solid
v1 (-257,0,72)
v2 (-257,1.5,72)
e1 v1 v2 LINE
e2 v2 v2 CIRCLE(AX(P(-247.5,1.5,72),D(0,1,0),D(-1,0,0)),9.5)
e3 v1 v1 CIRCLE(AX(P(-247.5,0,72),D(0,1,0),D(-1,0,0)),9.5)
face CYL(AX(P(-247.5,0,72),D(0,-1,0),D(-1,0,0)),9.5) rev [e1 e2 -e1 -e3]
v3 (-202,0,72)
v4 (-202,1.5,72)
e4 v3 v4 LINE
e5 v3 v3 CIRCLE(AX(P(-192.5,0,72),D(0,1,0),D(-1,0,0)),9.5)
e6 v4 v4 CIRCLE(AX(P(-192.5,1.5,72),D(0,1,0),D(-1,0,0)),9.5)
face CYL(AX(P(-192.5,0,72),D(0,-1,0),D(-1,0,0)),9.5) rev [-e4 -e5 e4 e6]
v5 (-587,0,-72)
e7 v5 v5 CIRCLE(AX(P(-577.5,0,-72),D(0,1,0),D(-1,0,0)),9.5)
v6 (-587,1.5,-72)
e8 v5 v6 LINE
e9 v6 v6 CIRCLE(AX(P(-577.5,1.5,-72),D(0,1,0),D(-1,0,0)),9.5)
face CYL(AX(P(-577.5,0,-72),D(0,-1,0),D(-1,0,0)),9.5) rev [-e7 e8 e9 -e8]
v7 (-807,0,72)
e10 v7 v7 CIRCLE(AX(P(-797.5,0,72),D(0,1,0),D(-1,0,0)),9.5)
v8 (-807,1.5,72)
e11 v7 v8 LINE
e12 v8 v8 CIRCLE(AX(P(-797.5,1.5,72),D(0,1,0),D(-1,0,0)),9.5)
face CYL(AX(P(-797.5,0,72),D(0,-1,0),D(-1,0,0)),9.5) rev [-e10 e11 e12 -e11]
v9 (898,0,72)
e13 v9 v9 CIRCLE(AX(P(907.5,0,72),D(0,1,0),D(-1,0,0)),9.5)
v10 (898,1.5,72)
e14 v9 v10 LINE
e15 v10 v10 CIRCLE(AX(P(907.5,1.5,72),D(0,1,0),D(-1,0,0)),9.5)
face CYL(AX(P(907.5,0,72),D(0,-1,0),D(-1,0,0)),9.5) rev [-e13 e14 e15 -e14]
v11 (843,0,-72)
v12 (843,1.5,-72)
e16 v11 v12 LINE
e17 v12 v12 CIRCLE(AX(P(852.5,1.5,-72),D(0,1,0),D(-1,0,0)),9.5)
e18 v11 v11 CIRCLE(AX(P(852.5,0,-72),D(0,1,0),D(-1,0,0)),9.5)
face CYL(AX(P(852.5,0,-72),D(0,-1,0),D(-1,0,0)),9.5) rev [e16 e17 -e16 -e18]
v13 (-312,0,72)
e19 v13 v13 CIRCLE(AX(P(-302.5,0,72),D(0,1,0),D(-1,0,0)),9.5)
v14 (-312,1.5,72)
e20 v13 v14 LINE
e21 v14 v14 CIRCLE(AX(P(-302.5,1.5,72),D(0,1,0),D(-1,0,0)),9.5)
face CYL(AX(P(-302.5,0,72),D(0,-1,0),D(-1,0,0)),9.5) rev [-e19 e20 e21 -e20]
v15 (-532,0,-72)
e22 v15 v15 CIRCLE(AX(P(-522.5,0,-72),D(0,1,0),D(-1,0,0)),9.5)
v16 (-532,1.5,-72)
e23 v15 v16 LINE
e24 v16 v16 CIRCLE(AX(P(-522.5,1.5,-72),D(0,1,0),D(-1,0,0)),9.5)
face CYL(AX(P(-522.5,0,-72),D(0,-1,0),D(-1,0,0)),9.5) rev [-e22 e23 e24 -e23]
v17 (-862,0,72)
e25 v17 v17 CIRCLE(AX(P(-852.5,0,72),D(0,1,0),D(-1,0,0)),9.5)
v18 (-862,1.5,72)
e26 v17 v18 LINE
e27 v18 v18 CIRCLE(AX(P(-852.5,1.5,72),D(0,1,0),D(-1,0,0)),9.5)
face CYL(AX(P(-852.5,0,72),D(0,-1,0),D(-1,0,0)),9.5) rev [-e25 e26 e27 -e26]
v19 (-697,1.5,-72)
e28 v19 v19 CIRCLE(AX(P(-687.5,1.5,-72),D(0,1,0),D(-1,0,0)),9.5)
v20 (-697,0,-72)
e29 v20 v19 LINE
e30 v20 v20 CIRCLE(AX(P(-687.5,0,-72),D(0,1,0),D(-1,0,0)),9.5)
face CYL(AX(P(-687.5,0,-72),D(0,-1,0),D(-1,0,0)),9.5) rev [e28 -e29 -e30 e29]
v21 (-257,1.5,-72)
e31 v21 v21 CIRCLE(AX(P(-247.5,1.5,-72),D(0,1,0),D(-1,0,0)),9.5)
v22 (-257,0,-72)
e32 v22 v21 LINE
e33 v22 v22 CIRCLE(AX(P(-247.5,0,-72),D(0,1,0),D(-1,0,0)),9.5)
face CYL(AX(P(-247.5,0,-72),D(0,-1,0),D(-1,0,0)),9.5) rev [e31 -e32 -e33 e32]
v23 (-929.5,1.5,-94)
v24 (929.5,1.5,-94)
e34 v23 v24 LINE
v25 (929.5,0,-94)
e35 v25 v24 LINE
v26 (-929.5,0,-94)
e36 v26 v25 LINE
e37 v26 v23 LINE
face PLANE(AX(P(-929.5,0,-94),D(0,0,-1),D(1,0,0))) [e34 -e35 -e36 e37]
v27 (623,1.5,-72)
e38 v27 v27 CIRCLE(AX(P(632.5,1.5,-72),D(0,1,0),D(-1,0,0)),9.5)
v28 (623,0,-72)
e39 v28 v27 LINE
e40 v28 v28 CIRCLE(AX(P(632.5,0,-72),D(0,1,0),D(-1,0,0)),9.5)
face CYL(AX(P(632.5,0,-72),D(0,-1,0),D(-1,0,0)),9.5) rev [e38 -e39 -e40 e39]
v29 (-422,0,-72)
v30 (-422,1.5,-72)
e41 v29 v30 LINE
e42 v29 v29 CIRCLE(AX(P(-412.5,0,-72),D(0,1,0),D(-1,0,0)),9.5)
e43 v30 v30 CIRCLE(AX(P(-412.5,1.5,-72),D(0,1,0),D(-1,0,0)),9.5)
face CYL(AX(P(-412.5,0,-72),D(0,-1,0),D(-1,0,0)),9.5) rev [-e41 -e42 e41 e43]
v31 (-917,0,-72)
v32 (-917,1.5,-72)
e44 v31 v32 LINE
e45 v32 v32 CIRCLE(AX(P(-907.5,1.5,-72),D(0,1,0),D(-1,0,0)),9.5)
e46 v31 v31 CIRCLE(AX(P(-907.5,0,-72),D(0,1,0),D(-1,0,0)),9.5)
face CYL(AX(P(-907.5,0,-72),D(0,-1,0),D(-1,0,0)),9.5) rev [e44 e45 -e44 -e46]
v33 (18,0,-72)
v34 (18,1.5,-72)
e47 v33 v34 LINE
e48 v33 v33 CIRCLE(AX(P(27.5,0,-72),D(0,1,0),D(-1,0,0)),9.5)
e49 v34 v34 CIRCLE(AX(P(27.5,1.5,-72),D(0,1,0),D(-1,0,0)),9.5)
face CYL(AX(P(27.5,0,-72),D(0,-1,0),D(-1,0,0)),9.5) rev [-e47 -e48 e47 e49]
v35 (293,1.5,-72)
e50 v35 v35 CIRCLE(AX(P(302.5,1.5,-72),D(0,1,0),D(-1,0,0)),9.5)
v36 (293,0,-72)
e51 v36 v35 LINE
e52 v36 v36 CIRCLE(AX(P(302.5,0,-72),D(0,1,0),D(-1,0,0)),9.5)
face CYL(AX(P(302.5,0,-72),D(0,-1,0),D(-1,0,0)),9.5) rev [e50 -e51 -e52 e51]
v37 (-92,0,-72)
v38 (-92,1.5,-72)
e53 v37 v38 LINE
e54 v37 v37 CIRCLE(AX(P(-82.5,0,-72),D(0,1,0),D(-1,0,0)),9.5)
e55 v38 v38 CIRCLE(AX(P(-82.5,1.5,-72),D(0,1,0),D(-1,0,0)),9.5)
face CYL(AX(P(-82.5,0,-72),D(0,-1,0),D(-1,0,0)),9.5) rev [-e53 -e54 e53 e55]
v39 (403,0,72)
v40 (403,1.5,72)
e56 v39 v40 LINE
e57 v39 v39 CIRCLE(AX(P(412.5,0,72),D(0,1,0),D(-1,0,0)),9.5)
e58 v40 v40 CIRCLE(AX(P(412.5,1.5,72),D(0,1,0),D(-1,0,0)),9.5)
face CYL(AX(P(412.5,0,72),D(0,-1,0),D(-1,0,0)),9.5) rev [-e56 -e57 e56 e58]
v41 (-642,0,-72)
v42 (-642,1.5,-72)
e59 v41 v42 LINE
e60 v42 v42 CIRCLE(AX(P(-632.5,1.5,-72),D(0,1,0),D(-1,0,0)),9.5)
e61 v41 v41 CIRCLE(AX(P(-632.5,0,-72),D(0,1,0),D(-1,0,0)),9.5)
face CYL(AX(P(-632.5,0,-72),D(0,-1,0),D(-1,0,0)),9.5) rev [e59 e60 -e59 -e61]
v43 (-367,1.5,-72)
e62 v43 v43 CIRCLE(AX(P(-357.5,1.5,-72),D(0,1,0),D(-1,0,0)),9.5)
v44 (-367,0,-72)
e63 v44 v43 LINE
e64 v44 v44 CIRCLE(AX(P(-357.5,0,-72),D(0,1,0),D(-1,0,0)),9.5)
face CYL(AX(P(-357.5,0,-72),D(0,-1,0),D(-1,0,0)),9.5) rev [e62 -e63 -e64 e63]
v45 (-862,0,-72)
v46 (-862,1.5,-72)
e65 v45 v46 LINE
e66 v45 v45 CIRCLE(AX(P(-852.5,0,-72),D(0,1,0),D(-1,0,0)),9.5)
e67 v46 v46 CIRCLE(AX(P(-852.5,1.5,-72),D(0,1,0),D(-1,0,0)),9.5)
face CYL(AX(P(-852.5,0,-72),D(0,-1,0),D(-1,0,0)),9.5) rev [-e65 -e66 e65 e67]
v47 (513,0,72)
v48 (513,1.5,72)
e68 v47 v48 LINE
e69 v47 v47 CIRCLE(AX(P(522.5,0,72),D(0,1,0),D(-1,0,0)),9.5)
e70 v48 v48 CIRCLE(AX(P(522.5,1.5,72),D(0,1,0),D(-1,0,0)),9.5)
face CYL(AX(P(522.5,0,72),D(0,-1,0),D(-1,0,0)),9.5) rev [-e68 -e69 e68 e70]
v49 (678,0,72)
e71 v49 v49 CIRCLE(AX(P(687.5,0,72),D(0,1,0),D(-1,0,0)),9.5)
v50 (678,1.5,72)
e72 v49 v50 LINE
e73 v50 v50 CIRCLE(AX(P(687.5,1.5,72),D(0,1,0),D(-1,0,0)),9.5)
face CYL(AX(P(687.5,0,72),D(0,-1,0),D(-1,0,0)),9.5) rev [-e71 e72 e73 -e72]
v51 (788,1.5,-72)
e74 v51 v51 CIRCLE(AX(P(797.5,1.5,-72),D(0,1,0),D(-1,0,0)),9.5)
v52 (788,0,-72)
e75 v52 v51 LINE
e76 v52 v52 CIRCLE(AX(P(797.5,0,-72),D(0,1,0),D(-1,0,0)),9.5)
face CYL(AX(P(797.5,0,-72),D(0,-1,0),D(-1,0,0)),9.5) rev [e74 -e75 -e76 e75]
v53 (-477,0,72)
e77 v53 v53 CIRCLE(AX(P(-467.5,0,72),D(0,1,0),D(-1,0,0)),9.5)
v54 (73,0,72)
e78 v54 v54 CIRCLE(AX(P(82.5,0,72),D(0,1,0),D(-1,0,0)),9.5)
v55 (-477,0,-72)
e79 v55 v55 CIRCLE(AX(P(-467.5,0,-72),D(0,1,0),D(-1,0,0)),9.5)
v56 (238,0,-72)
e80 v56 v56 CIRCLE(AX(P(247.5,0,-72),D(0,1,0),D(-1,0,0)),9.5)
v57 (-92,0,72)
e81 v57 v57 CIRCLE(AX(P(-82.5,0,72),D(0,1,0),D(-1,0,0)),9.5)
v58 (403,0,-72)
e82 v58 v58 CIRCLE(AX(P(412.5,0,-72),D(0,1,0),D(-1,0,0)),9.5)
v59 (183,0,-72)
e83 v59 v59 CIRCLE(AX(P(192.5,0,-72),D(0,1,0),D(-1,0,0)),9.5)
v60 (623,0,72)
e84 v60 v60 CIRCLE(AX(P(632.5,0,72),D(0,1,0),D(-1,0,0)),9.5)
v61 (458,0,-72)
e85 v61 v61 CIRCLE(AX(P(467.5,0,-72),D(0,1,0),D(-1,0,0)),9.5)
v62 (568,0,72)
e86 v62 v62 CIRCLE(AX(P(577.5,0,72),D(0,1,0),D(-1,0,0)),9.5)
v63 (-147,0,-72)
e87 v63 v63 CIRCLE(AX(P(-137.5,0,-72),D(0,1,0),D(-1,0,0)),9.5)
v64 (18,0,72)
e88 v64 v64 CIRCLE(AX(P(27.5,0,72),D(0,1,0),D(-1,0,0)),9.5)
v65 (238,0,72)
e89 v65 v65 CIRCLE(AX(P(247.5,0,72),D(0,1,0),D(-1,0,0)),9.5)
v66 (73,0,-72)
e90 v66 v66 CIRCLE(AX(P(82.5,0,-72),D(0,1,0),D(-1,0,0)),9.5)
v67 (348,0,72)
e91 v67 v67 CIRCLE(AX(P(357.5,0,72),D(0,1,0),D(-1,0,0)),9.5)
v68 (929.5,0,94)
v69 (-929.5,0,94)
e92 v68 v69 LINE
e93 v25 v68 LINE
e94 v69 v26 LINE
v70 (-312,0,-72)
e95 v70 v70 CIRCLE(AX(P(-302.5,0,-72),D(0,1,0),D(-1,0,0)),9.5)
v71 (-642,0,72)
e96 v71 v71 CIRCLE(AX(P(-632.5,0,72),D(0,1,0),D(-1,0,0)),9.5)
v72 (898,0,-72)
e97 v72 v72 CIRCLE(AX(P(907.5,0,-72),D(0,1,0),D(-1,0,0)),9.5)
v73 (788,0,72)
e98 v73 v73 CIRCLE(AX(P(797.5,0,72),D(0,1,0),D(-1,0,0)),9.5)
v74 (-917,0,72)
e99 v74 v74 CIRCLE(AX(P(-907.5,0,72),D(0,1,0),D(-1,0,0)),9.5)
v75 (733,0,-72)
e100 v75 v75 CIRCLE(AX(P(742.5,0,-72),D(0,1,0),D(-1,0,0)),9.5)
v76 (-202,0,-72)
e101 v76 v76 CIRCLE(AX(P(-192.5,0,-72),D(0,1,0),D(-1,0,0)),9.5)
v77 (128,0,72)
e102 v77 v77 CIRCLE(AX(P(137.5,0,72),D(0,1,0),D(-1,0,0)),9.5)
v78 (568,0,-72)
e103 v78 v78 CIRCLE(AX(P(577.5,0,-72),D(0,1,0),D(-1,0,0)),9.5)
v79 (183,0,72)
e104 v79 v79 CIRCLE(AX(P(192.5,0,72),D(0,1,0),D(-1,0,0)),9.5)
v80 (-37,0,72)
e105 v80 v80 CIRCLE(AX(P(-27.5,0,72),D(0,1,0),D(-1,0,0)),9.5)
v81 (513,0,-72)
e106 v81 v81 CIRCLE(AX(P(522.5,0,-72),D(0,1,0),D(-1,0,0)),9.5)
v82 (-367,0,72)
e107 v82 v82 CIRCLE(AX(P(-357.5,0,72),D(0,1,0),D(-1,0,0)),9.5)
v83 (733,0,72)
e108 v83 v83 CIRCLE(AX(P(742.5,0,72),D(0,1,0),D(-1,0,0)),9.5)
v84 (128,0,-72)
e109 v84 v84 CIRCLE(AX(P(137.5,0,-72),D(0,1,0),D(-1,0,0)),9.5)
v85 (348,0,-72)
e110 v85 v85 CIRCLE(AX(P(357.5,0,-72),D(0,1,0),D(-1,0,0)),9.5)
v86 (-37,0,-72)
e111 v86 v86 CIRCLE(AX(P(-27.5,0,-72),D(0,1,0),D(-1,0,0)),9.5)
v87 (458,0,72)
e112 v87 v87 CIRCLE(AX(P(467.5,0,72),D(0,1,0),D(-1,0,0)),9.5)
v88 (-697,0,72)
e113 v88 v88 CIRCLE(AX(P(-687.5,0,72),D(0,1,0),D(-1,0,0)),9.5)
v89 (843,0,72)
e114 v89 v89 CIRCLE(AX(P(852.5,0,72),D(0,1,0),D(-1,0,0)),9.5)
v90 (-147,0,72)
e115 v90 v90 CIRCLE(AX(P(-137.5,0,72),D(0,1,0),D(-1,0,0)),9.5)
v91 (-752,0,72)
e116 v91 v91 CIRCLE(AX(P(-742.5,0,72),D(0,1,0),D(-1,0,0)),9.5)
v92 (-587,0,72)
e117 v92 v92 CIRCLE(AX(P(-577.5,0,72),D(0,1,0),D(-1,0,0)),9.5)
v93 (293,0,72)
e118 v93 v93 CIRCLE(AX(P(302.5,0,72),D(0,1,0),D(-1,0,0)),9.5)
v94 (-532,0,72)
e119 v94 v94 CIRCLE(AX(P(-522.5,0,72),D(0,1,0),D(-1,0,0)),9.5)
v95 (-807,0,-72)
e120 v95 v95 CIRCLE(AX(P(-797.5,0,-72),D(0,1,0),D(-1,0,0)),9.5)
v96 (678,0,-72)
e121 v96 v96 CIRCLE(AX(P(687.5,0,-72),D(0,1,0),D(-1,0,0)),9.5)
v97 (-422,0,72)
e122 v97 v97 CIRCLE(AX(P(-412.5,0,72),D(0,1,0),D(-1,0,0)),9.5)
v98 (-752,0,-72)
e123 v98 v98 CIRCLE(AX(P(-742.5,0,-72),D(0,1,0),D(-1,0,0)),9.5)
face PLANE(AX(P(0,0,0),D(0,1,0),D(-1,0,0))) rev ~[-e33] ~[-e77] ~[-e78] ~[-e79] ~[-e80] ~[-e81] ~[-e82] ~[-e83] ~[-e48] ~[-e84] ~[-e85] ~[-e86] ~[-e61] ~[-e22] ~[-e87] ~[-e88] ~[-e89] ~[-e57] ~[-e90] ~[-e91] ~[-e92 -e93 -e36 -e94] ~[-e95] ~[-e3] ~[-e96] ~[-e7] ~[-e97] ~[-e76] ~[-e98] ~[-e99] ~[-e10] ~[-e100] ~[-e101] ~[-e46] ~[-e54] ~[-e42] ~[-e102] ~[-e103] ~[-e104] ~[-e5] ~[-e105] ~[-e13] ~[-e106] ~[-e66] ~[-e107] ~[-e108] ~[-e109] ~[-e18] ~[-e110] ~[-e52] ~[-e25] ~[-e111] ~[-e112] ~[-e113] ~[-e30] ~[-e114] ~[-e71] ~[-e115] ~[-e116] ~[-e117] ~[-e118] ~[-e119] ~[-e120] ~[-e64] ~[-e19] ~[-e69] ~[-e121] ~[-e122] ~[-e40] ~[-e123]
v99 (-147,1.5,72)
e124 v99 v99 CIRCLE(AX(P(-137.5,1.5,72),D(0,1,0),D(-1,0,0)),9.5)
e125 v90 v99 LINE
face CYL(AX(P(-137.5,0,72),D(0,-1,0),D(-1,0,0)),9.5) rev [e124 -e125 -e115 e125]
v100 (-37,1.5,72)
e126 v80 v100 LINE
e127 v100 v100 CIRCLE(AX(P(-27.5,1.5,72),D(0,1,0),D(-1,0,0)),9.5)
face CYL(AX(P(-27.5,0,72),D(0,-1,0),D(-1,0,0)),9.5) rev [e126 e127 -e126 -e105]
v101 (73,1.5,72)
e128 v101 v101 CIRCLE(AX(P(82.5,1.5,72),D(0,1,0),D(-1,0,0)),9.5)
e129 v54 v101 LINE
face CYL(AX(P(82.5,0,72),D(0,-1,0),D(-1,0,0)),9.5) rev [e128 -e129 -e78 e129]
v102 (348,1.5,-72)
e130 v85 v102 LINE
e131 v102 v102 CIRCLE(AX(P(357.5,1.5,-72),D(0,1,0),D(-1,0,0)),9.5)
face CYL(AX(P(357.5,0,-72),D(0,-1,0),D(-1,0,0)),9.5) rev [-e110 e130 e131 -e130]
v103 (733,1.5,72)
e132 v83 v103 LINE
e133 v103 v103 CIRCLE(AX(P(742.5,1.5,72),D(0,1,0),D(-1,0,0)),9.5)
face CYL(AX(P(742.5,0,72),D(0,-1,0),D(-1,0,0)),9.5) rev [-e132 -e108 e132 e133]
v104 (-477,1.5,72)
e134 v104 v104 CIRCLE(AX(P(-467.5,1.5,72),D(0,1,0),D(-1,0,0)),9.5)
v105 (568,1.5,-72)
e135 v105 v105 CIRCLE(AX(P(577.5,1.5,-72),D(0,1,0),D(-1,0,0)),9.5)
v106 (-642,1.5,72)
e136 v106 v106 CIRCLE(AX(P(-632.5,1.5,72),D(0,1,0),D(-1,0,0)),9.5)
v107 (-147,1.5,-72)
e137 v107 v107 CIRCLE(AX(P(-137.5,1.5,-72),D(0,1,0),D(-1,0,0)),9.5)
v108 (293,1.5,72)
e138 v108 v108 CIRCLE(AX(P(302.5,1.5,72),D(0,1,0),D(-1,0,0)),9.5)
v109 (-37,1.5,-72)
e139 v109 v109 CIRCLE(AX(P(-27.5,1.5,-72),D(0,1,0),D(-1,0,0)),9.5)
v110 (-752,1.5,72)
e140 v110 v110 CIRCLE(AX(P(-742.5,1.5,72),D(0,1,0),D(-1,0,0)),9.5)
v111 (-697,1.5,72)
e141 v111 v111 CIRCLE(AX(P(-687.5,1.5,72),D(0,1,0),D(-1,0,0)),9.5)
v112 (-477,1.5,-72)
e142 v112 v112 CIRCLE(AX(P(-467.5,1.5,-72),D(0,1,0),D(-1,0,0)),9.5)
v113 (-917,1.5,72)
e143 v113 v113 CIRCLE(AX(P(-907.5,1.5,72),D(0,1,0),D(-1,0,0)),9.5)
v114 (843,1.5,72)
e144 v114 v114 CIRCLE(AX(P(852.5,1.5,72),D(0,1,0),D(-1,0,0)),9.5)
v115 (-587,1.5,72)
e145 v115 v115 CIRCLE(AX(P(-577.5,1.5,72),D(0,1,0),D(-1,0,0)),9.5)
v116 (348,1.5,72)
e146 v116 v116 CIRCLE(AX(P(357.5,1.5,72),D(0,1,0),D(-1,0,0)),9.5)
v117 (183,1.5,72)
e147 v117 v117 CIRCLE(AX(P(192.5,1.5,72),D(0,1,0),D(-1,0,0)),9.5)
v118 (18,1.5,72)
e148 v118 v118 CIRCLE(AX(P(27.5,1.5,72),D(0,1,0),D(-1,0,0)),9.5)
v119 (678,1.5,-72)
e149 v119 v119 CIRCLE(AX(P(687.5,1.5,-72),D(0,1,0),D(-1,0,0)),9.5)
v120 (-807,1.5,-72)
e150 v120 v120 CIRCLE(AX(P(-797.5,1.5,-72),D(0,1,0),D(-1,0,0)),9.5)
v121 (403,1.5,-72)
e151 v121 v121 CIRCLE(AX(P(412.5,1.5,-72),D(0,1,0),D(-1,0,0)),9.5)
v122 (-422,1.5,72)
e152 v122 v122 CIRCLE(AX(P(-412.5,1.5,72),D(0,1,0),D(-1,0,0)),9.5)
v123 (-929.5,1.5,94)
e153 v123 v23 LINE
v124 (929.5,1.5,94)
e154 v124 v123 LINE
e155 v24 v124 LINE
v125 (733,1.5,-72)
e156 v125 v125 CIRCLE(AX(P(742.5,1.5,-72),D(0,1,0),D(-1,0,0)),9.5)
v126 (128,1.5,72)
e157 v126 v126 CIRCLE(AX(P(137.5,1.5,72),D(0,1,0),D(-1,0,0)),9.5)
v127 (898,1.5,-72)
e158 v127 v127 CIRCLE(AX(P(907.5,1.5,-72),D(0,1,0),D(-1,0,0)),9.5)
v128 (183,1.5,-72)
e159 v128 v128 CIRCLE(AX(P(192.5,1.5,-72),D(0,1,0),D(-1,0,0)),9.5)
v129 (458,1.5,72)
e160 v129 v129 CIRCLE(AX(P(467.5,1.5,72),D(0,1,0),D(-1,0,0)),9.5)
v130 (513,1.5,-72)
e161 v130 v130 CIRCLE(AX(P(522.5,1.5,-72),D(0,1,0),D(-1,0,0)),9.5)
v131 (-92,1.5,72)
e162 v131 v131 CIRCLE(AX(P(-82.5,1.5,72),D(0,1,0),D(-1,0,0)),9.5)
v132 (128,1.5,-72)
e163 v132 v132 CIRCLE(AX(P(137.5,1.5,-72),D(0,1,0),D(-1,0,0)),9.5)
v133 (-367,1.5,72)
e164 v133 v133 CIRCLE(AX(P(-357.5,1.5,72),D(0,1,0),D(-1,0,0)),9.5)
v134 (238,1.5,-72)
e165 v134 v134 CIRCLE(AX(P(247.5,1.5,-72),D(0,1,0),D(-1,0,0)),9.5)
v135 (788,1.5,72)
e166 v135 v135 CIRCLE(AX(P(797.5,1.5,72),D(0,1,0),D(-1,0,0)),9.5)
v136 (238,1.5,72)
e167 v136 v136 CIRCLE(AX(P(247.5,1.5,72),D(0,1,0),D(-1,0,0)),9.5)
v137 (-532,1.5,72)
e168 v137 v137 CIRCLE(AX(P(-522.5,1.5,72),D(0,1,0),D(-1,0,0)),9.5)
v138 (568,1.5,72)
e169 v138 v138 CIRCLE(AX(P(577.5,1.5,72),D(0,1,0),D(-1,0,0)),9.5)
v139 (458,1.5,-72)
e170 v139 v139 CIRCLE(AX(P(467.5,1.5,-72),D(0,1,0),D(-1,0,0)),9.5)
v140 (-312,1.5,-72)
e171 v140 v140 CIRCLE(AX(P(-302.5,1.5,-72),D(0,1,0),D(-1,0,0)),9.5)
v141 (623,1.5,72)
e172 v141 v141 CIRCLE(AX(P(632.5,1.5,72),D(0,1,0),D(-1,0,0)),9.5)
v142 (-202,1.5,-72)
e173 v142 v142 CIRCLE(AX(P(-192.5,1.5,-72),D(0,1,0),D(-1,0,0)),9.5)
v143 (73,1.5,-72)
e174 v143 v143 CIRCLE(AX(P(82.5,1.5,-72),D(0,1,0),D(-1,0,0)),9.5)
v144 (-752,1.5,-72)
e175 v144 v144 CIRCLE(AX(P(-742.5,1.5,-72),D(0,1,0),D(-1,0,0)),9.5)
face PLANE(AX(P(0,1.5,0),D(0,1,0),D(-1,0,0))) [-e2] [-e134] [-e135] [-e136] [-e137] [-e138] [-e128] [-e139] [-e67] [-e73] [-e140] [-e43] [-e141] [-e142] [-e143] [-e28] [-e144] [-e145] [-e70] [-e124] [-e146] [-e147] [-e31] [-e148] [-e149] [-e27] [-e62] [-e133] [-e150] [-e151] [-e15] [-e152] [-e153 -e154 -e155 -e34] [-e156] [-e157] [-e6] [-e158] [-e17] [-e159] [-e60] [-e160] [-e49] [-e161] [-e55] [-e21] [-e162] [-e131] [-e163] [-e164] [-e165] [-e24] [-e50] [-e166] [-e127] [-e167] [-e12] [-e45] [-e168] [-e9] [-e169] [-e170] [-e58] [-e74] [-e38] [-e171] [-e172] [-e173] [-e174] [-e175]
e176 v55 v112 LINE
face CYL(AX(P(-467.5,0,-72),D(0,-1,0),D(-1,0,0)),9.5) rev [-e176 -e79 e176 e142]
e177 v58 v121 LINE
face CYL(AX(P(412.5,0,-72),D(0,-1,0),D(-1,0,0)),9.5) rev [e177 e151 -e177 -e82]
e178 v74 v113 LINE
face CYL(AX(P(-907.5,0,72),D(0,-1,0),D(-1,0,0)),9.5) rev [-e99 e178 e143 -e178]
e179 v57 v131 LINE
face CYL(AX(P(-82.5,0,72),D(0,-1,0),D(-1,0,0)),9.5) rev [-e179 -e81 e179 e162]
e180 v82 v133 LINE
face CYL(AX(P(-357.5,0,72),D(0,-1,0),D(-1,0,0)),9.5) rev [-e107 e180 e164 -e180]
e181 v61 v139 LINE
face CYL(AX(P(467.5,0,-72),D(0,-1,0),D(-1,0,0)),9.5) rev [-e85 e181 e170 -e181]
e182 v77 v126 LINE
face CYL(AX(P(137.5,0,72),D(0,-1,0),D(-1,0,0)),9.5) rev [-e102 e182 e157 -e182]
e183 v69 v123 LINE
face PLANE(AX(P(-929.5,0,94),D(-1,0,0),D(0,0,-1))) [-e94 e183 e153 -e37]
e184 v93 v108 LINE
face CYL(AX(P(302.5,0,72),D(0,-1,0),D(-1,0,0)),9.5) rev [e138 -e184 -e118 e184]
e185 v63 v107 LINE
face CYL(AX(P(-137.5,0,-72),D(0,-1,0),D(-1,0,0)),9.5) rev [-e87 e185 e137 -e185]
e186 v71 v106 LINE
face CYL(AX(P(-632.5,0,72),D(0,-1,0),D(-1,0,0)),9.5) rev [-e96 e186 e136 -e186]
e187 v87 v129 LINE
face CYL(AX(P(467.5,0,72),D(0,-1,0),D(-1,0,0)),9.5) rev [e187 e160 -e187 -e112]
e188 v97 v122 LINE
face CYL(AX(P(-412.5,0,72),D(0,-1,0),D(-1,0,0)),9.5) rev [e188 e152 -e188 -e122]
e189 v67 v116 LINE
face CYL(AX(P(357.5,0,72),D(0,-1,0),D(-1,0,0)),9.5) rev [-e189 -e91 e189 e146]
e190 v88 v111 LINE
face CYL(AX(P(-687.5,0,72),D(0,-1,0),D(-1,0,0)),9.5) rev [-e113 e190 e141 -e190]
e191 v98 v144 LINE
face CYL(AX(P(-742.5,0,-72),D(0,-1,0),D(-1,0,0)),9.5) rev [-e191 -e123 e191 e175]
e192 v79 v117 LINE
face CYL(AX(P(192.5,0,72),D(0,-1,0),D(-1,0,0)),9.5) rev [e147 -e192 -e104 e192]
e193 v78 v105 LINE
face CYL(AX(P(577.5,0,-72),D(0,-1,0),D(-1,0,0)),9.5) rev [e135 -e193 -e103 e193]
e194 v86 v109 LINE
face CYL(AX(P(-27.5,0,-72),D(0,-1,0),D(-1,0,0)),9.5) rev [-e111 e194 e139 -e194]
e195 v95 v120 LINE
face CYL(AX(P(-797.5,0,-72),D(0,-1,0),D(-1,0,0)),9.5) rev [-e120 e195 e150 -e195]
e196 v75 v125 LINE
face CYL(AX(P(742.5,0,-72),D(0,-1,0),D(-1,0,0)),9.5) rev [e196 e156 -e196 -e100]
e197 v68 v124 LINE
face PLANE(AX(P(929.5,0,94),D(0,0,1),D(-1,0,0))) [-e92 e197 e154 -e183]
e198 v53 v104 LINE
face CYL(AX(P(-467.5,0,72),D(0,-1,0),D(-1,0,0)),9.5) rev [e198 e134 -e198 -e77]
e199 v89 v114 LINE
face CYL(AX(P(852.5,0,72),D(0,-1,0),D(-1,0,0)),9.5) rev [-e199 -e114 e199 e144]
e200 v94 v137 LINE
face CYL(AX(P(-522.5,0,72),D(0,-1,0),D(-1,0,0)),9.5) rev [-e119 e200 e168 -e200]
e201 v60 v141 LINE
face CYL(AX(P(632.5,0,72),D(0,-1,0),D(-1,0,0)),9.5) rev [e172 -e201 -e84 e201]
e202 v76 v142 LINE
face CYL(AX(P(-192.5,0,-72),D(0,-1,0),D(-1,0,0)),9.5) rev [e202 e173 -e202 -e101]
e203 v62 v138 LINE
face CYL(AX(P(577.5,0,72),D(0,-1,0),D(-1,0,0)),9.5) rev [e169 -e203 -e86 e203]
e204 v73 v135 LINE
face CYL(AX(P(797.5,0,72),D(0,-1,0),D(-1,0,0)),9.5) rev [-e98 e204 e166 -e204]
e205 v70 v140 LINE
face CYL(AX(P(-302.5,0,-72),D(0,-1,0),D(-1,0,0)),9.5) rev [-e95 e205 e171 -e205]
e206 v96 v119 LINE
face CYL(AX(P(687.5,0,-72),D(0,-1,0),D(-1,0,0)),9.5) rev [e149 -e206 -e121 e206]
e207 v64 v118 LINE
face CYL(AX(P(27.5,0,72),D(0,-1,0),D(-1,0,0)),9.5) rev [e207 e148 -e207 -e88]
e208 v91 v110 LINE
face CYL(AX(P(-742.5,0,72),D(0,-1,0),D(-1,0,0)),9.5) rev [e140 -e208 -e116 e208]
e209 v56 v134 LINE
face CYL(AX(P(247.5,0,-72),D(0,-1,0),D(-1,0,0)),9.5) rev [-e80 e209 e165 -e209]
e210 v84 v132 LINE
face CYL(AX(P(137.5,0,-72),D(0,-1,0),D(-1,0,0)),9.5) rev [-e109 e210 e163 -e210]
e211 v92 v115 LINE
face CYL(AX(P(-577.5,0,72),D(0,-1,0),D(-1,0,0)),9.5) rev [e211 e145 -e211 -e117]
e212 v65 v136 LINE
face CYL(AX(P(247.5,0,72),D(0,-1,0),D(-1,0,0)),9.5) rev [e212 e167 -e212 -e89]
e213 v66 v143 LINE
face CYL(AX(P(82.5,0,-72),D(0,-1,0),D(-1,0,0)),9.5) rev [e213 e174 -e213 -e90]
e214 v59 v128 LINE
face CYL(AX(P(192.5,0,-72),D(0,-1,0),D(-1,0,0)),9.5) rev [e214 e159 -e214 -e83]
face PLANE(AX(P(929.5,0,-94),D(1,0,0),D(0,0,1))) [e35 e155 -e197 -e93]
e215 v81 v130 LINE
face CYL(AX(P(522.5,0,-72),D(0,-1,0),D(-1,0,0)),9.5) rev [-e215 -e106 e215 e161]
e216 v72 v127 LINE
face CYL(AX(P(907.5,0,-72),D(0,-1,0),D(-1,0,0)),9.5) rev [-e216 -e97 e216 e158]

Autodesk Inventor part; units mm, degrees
ref_plane "YZ Plane" through (0, 0, 0) normal (1, 0, 0) x (0, 1, 0)
ref_plane "XZ Plane" through (0, 0, 0) normal (0, 1, 0) x (-1, 0, 0)
ref_plane "XY Plane" through (0, 0, 0) normal (0, 0, 1) x (1, 0, 0)
sketch "Foam Scheme" plane through (0, 0, 0) normal (0, 1, 0) x (-1, 0, 0)
  line L0 (929.5, -94) -> (-929.5, -94)
  line L1 (-929.5, -94) -> (-929.5, 94)
  line L2 (-929.5, 94) -> (929.5, 94)
  line L3 (929.5, 94) -> (929.5, -94)
  circle A0 centre (907.5, -72) radius 9.5
  circle A1 centre (852.5, -72) radius 9.5
  circle A2 centre (797.5, -72) radius 9.5
  circle A3 centre (742.5, -72) radius 9.5
  circle A4 centre (687.5, -72) radius 9.5
  circle A5 centre (632.5, -72) radius 9.5
  circle A6 centre (577.5, -72) radius 9.5
  circle A7 centre (522.5, -72) radius 9.5
  circle A8 centre (467.5, -72) radius 9.5
  circle A9 centre (412.5, -72) radius 9.5
  circle A10 centre (357.5, -72) radius 9.5
  circle A11 centre (302.5, -72) radius 9.5
  circle A12 centre (247.5, -72) radius 9.5
  circle A13 centre (192.5, -72) radius 9.5
  circle A14 centre (137.5, -72) radius 9.5
  circle A15 centre (82.5, -72) radius 9.5
  circle A16 centre (27.5, -72) radius 9.5
  circle A17 centre (-27.5, -72) radius 9.5
  circle A18 centre (907.5, 72) radius 9.5
  circle A19 centre (852.5, 72) radius 9.5
  circle A20 centre (797.5, 72) radius 9.5
  circle A21 centre (742.5, 72) radius 9.5
  circle A22 centre (687.5, 72) radius 9.5
  circle A23 centre (632.5, 72) radius 9.5
  circle A24 centre (577.5, 72) radius 9.5
  circle A25 centre (522.5, 72) radius 9.5
  circle A26 centre (467.5, 72) radius 9.5
  circle A27 centre (412.5, 72) radius 9.5
  circle A28 centre (357.5, 72) radius 9.5
  circle A29 centre (302.5, 72) radius 9.5
  circle A30 centre (247.5, 72) radius 9.5
  circle A31 centre (192.5, 72) radius 9.5
  circle A32 centre (137.5, 72) radius 9.5
  circle A33 centre (82.5, 72) radius 9.5
  circle A34 centre (27.5, 72) radius 9.5
  circle A35 centre (-27.5, 72) radius 9.5
  circle A36 centre (-82.5, -72) radius 9.5
  circle A37 centre (-82.5, 72) radius 9.5
  circle A38 centre (-137.5, -72) radius 9.5
  circle A39 centre (-137.5, 72) radius 9.5
  circle A40 centre (-192.5, -72) radius 9.5
  circle A41 centre (-192.5, 72) radius 9.5
  circle A42 centre (-247.5, -72) radius 9.5
  circle A43 centre (-247.5, 72) radius 9.5
  circle A44 centre (-302.5, -72) radius 9.5
  circle A45 centre (-302.5, 72) radius 9.5
  circle A46 centre (-357.5, -72) radius 9.5
  circle A47 centre (-357.5, 72) radius 9.5
  circle A48 centre (-412.5, -72) radius 9.5
  circle A49 centre (-412.5, 72) radius 9.5
  circle A50 centre (-467.5, -72) radius 9.5
  circle A51 centre (-467.5, 72) radius 9.5
  circle A52 centre (-522.5, -72) radius 9.5
  circle A53 centre (-522.5, 72) radius 9.5
  circle A54 centre (-577.5, -72) radius 9.5
  circle A55 centre (-577.5, 72) radius 9.5
  circle A56 centre (-632.5, -72) radius 9.5
  circle A57 centre (-632.5, 72) radius 9.5
  circle A58 centre (-687.5, -72) radius 9.5
  circle A59 centre (-687.5, 72) radius 9.5
  circle A60 centre (-742.5, -72) radius 9.5
  circle A61 centre (-742.5, 72) radius 9.5
  circle A62 centre (-797.5, -72) radius 9.5
  circle A63 centre (-797.5, 72) radius 9.5
  circle A64 centre (-852.5, -72) radius 9.5
  circle A65 centre (-852.5, 72) radius 9.5
  circle A66 centre (-907.5, -72) radius 9.5
  circle A67 centre (-907.5, 72) radius 9.5
  point P0 (0, 0)
  dimension "d0" = 1859
  dimension "d1" = 929.5
  dimension "d2" = 188
  dimension "d3" = 94
  dimension "d4" = 19
  dimension "d5" = 22
  dimension "d6" = 22
  dimension "d9" = 55
  dimension "d12" = 144
extrude "Foam Body" add sketch "Foam Scheme" along normal blind 1.5
equation "\"d1\" = 0.5 * d0"
equation "\"d3\" = 0.5 * d2"
properties part number "Foam NPS 18" material "Rubber, Silicone"
